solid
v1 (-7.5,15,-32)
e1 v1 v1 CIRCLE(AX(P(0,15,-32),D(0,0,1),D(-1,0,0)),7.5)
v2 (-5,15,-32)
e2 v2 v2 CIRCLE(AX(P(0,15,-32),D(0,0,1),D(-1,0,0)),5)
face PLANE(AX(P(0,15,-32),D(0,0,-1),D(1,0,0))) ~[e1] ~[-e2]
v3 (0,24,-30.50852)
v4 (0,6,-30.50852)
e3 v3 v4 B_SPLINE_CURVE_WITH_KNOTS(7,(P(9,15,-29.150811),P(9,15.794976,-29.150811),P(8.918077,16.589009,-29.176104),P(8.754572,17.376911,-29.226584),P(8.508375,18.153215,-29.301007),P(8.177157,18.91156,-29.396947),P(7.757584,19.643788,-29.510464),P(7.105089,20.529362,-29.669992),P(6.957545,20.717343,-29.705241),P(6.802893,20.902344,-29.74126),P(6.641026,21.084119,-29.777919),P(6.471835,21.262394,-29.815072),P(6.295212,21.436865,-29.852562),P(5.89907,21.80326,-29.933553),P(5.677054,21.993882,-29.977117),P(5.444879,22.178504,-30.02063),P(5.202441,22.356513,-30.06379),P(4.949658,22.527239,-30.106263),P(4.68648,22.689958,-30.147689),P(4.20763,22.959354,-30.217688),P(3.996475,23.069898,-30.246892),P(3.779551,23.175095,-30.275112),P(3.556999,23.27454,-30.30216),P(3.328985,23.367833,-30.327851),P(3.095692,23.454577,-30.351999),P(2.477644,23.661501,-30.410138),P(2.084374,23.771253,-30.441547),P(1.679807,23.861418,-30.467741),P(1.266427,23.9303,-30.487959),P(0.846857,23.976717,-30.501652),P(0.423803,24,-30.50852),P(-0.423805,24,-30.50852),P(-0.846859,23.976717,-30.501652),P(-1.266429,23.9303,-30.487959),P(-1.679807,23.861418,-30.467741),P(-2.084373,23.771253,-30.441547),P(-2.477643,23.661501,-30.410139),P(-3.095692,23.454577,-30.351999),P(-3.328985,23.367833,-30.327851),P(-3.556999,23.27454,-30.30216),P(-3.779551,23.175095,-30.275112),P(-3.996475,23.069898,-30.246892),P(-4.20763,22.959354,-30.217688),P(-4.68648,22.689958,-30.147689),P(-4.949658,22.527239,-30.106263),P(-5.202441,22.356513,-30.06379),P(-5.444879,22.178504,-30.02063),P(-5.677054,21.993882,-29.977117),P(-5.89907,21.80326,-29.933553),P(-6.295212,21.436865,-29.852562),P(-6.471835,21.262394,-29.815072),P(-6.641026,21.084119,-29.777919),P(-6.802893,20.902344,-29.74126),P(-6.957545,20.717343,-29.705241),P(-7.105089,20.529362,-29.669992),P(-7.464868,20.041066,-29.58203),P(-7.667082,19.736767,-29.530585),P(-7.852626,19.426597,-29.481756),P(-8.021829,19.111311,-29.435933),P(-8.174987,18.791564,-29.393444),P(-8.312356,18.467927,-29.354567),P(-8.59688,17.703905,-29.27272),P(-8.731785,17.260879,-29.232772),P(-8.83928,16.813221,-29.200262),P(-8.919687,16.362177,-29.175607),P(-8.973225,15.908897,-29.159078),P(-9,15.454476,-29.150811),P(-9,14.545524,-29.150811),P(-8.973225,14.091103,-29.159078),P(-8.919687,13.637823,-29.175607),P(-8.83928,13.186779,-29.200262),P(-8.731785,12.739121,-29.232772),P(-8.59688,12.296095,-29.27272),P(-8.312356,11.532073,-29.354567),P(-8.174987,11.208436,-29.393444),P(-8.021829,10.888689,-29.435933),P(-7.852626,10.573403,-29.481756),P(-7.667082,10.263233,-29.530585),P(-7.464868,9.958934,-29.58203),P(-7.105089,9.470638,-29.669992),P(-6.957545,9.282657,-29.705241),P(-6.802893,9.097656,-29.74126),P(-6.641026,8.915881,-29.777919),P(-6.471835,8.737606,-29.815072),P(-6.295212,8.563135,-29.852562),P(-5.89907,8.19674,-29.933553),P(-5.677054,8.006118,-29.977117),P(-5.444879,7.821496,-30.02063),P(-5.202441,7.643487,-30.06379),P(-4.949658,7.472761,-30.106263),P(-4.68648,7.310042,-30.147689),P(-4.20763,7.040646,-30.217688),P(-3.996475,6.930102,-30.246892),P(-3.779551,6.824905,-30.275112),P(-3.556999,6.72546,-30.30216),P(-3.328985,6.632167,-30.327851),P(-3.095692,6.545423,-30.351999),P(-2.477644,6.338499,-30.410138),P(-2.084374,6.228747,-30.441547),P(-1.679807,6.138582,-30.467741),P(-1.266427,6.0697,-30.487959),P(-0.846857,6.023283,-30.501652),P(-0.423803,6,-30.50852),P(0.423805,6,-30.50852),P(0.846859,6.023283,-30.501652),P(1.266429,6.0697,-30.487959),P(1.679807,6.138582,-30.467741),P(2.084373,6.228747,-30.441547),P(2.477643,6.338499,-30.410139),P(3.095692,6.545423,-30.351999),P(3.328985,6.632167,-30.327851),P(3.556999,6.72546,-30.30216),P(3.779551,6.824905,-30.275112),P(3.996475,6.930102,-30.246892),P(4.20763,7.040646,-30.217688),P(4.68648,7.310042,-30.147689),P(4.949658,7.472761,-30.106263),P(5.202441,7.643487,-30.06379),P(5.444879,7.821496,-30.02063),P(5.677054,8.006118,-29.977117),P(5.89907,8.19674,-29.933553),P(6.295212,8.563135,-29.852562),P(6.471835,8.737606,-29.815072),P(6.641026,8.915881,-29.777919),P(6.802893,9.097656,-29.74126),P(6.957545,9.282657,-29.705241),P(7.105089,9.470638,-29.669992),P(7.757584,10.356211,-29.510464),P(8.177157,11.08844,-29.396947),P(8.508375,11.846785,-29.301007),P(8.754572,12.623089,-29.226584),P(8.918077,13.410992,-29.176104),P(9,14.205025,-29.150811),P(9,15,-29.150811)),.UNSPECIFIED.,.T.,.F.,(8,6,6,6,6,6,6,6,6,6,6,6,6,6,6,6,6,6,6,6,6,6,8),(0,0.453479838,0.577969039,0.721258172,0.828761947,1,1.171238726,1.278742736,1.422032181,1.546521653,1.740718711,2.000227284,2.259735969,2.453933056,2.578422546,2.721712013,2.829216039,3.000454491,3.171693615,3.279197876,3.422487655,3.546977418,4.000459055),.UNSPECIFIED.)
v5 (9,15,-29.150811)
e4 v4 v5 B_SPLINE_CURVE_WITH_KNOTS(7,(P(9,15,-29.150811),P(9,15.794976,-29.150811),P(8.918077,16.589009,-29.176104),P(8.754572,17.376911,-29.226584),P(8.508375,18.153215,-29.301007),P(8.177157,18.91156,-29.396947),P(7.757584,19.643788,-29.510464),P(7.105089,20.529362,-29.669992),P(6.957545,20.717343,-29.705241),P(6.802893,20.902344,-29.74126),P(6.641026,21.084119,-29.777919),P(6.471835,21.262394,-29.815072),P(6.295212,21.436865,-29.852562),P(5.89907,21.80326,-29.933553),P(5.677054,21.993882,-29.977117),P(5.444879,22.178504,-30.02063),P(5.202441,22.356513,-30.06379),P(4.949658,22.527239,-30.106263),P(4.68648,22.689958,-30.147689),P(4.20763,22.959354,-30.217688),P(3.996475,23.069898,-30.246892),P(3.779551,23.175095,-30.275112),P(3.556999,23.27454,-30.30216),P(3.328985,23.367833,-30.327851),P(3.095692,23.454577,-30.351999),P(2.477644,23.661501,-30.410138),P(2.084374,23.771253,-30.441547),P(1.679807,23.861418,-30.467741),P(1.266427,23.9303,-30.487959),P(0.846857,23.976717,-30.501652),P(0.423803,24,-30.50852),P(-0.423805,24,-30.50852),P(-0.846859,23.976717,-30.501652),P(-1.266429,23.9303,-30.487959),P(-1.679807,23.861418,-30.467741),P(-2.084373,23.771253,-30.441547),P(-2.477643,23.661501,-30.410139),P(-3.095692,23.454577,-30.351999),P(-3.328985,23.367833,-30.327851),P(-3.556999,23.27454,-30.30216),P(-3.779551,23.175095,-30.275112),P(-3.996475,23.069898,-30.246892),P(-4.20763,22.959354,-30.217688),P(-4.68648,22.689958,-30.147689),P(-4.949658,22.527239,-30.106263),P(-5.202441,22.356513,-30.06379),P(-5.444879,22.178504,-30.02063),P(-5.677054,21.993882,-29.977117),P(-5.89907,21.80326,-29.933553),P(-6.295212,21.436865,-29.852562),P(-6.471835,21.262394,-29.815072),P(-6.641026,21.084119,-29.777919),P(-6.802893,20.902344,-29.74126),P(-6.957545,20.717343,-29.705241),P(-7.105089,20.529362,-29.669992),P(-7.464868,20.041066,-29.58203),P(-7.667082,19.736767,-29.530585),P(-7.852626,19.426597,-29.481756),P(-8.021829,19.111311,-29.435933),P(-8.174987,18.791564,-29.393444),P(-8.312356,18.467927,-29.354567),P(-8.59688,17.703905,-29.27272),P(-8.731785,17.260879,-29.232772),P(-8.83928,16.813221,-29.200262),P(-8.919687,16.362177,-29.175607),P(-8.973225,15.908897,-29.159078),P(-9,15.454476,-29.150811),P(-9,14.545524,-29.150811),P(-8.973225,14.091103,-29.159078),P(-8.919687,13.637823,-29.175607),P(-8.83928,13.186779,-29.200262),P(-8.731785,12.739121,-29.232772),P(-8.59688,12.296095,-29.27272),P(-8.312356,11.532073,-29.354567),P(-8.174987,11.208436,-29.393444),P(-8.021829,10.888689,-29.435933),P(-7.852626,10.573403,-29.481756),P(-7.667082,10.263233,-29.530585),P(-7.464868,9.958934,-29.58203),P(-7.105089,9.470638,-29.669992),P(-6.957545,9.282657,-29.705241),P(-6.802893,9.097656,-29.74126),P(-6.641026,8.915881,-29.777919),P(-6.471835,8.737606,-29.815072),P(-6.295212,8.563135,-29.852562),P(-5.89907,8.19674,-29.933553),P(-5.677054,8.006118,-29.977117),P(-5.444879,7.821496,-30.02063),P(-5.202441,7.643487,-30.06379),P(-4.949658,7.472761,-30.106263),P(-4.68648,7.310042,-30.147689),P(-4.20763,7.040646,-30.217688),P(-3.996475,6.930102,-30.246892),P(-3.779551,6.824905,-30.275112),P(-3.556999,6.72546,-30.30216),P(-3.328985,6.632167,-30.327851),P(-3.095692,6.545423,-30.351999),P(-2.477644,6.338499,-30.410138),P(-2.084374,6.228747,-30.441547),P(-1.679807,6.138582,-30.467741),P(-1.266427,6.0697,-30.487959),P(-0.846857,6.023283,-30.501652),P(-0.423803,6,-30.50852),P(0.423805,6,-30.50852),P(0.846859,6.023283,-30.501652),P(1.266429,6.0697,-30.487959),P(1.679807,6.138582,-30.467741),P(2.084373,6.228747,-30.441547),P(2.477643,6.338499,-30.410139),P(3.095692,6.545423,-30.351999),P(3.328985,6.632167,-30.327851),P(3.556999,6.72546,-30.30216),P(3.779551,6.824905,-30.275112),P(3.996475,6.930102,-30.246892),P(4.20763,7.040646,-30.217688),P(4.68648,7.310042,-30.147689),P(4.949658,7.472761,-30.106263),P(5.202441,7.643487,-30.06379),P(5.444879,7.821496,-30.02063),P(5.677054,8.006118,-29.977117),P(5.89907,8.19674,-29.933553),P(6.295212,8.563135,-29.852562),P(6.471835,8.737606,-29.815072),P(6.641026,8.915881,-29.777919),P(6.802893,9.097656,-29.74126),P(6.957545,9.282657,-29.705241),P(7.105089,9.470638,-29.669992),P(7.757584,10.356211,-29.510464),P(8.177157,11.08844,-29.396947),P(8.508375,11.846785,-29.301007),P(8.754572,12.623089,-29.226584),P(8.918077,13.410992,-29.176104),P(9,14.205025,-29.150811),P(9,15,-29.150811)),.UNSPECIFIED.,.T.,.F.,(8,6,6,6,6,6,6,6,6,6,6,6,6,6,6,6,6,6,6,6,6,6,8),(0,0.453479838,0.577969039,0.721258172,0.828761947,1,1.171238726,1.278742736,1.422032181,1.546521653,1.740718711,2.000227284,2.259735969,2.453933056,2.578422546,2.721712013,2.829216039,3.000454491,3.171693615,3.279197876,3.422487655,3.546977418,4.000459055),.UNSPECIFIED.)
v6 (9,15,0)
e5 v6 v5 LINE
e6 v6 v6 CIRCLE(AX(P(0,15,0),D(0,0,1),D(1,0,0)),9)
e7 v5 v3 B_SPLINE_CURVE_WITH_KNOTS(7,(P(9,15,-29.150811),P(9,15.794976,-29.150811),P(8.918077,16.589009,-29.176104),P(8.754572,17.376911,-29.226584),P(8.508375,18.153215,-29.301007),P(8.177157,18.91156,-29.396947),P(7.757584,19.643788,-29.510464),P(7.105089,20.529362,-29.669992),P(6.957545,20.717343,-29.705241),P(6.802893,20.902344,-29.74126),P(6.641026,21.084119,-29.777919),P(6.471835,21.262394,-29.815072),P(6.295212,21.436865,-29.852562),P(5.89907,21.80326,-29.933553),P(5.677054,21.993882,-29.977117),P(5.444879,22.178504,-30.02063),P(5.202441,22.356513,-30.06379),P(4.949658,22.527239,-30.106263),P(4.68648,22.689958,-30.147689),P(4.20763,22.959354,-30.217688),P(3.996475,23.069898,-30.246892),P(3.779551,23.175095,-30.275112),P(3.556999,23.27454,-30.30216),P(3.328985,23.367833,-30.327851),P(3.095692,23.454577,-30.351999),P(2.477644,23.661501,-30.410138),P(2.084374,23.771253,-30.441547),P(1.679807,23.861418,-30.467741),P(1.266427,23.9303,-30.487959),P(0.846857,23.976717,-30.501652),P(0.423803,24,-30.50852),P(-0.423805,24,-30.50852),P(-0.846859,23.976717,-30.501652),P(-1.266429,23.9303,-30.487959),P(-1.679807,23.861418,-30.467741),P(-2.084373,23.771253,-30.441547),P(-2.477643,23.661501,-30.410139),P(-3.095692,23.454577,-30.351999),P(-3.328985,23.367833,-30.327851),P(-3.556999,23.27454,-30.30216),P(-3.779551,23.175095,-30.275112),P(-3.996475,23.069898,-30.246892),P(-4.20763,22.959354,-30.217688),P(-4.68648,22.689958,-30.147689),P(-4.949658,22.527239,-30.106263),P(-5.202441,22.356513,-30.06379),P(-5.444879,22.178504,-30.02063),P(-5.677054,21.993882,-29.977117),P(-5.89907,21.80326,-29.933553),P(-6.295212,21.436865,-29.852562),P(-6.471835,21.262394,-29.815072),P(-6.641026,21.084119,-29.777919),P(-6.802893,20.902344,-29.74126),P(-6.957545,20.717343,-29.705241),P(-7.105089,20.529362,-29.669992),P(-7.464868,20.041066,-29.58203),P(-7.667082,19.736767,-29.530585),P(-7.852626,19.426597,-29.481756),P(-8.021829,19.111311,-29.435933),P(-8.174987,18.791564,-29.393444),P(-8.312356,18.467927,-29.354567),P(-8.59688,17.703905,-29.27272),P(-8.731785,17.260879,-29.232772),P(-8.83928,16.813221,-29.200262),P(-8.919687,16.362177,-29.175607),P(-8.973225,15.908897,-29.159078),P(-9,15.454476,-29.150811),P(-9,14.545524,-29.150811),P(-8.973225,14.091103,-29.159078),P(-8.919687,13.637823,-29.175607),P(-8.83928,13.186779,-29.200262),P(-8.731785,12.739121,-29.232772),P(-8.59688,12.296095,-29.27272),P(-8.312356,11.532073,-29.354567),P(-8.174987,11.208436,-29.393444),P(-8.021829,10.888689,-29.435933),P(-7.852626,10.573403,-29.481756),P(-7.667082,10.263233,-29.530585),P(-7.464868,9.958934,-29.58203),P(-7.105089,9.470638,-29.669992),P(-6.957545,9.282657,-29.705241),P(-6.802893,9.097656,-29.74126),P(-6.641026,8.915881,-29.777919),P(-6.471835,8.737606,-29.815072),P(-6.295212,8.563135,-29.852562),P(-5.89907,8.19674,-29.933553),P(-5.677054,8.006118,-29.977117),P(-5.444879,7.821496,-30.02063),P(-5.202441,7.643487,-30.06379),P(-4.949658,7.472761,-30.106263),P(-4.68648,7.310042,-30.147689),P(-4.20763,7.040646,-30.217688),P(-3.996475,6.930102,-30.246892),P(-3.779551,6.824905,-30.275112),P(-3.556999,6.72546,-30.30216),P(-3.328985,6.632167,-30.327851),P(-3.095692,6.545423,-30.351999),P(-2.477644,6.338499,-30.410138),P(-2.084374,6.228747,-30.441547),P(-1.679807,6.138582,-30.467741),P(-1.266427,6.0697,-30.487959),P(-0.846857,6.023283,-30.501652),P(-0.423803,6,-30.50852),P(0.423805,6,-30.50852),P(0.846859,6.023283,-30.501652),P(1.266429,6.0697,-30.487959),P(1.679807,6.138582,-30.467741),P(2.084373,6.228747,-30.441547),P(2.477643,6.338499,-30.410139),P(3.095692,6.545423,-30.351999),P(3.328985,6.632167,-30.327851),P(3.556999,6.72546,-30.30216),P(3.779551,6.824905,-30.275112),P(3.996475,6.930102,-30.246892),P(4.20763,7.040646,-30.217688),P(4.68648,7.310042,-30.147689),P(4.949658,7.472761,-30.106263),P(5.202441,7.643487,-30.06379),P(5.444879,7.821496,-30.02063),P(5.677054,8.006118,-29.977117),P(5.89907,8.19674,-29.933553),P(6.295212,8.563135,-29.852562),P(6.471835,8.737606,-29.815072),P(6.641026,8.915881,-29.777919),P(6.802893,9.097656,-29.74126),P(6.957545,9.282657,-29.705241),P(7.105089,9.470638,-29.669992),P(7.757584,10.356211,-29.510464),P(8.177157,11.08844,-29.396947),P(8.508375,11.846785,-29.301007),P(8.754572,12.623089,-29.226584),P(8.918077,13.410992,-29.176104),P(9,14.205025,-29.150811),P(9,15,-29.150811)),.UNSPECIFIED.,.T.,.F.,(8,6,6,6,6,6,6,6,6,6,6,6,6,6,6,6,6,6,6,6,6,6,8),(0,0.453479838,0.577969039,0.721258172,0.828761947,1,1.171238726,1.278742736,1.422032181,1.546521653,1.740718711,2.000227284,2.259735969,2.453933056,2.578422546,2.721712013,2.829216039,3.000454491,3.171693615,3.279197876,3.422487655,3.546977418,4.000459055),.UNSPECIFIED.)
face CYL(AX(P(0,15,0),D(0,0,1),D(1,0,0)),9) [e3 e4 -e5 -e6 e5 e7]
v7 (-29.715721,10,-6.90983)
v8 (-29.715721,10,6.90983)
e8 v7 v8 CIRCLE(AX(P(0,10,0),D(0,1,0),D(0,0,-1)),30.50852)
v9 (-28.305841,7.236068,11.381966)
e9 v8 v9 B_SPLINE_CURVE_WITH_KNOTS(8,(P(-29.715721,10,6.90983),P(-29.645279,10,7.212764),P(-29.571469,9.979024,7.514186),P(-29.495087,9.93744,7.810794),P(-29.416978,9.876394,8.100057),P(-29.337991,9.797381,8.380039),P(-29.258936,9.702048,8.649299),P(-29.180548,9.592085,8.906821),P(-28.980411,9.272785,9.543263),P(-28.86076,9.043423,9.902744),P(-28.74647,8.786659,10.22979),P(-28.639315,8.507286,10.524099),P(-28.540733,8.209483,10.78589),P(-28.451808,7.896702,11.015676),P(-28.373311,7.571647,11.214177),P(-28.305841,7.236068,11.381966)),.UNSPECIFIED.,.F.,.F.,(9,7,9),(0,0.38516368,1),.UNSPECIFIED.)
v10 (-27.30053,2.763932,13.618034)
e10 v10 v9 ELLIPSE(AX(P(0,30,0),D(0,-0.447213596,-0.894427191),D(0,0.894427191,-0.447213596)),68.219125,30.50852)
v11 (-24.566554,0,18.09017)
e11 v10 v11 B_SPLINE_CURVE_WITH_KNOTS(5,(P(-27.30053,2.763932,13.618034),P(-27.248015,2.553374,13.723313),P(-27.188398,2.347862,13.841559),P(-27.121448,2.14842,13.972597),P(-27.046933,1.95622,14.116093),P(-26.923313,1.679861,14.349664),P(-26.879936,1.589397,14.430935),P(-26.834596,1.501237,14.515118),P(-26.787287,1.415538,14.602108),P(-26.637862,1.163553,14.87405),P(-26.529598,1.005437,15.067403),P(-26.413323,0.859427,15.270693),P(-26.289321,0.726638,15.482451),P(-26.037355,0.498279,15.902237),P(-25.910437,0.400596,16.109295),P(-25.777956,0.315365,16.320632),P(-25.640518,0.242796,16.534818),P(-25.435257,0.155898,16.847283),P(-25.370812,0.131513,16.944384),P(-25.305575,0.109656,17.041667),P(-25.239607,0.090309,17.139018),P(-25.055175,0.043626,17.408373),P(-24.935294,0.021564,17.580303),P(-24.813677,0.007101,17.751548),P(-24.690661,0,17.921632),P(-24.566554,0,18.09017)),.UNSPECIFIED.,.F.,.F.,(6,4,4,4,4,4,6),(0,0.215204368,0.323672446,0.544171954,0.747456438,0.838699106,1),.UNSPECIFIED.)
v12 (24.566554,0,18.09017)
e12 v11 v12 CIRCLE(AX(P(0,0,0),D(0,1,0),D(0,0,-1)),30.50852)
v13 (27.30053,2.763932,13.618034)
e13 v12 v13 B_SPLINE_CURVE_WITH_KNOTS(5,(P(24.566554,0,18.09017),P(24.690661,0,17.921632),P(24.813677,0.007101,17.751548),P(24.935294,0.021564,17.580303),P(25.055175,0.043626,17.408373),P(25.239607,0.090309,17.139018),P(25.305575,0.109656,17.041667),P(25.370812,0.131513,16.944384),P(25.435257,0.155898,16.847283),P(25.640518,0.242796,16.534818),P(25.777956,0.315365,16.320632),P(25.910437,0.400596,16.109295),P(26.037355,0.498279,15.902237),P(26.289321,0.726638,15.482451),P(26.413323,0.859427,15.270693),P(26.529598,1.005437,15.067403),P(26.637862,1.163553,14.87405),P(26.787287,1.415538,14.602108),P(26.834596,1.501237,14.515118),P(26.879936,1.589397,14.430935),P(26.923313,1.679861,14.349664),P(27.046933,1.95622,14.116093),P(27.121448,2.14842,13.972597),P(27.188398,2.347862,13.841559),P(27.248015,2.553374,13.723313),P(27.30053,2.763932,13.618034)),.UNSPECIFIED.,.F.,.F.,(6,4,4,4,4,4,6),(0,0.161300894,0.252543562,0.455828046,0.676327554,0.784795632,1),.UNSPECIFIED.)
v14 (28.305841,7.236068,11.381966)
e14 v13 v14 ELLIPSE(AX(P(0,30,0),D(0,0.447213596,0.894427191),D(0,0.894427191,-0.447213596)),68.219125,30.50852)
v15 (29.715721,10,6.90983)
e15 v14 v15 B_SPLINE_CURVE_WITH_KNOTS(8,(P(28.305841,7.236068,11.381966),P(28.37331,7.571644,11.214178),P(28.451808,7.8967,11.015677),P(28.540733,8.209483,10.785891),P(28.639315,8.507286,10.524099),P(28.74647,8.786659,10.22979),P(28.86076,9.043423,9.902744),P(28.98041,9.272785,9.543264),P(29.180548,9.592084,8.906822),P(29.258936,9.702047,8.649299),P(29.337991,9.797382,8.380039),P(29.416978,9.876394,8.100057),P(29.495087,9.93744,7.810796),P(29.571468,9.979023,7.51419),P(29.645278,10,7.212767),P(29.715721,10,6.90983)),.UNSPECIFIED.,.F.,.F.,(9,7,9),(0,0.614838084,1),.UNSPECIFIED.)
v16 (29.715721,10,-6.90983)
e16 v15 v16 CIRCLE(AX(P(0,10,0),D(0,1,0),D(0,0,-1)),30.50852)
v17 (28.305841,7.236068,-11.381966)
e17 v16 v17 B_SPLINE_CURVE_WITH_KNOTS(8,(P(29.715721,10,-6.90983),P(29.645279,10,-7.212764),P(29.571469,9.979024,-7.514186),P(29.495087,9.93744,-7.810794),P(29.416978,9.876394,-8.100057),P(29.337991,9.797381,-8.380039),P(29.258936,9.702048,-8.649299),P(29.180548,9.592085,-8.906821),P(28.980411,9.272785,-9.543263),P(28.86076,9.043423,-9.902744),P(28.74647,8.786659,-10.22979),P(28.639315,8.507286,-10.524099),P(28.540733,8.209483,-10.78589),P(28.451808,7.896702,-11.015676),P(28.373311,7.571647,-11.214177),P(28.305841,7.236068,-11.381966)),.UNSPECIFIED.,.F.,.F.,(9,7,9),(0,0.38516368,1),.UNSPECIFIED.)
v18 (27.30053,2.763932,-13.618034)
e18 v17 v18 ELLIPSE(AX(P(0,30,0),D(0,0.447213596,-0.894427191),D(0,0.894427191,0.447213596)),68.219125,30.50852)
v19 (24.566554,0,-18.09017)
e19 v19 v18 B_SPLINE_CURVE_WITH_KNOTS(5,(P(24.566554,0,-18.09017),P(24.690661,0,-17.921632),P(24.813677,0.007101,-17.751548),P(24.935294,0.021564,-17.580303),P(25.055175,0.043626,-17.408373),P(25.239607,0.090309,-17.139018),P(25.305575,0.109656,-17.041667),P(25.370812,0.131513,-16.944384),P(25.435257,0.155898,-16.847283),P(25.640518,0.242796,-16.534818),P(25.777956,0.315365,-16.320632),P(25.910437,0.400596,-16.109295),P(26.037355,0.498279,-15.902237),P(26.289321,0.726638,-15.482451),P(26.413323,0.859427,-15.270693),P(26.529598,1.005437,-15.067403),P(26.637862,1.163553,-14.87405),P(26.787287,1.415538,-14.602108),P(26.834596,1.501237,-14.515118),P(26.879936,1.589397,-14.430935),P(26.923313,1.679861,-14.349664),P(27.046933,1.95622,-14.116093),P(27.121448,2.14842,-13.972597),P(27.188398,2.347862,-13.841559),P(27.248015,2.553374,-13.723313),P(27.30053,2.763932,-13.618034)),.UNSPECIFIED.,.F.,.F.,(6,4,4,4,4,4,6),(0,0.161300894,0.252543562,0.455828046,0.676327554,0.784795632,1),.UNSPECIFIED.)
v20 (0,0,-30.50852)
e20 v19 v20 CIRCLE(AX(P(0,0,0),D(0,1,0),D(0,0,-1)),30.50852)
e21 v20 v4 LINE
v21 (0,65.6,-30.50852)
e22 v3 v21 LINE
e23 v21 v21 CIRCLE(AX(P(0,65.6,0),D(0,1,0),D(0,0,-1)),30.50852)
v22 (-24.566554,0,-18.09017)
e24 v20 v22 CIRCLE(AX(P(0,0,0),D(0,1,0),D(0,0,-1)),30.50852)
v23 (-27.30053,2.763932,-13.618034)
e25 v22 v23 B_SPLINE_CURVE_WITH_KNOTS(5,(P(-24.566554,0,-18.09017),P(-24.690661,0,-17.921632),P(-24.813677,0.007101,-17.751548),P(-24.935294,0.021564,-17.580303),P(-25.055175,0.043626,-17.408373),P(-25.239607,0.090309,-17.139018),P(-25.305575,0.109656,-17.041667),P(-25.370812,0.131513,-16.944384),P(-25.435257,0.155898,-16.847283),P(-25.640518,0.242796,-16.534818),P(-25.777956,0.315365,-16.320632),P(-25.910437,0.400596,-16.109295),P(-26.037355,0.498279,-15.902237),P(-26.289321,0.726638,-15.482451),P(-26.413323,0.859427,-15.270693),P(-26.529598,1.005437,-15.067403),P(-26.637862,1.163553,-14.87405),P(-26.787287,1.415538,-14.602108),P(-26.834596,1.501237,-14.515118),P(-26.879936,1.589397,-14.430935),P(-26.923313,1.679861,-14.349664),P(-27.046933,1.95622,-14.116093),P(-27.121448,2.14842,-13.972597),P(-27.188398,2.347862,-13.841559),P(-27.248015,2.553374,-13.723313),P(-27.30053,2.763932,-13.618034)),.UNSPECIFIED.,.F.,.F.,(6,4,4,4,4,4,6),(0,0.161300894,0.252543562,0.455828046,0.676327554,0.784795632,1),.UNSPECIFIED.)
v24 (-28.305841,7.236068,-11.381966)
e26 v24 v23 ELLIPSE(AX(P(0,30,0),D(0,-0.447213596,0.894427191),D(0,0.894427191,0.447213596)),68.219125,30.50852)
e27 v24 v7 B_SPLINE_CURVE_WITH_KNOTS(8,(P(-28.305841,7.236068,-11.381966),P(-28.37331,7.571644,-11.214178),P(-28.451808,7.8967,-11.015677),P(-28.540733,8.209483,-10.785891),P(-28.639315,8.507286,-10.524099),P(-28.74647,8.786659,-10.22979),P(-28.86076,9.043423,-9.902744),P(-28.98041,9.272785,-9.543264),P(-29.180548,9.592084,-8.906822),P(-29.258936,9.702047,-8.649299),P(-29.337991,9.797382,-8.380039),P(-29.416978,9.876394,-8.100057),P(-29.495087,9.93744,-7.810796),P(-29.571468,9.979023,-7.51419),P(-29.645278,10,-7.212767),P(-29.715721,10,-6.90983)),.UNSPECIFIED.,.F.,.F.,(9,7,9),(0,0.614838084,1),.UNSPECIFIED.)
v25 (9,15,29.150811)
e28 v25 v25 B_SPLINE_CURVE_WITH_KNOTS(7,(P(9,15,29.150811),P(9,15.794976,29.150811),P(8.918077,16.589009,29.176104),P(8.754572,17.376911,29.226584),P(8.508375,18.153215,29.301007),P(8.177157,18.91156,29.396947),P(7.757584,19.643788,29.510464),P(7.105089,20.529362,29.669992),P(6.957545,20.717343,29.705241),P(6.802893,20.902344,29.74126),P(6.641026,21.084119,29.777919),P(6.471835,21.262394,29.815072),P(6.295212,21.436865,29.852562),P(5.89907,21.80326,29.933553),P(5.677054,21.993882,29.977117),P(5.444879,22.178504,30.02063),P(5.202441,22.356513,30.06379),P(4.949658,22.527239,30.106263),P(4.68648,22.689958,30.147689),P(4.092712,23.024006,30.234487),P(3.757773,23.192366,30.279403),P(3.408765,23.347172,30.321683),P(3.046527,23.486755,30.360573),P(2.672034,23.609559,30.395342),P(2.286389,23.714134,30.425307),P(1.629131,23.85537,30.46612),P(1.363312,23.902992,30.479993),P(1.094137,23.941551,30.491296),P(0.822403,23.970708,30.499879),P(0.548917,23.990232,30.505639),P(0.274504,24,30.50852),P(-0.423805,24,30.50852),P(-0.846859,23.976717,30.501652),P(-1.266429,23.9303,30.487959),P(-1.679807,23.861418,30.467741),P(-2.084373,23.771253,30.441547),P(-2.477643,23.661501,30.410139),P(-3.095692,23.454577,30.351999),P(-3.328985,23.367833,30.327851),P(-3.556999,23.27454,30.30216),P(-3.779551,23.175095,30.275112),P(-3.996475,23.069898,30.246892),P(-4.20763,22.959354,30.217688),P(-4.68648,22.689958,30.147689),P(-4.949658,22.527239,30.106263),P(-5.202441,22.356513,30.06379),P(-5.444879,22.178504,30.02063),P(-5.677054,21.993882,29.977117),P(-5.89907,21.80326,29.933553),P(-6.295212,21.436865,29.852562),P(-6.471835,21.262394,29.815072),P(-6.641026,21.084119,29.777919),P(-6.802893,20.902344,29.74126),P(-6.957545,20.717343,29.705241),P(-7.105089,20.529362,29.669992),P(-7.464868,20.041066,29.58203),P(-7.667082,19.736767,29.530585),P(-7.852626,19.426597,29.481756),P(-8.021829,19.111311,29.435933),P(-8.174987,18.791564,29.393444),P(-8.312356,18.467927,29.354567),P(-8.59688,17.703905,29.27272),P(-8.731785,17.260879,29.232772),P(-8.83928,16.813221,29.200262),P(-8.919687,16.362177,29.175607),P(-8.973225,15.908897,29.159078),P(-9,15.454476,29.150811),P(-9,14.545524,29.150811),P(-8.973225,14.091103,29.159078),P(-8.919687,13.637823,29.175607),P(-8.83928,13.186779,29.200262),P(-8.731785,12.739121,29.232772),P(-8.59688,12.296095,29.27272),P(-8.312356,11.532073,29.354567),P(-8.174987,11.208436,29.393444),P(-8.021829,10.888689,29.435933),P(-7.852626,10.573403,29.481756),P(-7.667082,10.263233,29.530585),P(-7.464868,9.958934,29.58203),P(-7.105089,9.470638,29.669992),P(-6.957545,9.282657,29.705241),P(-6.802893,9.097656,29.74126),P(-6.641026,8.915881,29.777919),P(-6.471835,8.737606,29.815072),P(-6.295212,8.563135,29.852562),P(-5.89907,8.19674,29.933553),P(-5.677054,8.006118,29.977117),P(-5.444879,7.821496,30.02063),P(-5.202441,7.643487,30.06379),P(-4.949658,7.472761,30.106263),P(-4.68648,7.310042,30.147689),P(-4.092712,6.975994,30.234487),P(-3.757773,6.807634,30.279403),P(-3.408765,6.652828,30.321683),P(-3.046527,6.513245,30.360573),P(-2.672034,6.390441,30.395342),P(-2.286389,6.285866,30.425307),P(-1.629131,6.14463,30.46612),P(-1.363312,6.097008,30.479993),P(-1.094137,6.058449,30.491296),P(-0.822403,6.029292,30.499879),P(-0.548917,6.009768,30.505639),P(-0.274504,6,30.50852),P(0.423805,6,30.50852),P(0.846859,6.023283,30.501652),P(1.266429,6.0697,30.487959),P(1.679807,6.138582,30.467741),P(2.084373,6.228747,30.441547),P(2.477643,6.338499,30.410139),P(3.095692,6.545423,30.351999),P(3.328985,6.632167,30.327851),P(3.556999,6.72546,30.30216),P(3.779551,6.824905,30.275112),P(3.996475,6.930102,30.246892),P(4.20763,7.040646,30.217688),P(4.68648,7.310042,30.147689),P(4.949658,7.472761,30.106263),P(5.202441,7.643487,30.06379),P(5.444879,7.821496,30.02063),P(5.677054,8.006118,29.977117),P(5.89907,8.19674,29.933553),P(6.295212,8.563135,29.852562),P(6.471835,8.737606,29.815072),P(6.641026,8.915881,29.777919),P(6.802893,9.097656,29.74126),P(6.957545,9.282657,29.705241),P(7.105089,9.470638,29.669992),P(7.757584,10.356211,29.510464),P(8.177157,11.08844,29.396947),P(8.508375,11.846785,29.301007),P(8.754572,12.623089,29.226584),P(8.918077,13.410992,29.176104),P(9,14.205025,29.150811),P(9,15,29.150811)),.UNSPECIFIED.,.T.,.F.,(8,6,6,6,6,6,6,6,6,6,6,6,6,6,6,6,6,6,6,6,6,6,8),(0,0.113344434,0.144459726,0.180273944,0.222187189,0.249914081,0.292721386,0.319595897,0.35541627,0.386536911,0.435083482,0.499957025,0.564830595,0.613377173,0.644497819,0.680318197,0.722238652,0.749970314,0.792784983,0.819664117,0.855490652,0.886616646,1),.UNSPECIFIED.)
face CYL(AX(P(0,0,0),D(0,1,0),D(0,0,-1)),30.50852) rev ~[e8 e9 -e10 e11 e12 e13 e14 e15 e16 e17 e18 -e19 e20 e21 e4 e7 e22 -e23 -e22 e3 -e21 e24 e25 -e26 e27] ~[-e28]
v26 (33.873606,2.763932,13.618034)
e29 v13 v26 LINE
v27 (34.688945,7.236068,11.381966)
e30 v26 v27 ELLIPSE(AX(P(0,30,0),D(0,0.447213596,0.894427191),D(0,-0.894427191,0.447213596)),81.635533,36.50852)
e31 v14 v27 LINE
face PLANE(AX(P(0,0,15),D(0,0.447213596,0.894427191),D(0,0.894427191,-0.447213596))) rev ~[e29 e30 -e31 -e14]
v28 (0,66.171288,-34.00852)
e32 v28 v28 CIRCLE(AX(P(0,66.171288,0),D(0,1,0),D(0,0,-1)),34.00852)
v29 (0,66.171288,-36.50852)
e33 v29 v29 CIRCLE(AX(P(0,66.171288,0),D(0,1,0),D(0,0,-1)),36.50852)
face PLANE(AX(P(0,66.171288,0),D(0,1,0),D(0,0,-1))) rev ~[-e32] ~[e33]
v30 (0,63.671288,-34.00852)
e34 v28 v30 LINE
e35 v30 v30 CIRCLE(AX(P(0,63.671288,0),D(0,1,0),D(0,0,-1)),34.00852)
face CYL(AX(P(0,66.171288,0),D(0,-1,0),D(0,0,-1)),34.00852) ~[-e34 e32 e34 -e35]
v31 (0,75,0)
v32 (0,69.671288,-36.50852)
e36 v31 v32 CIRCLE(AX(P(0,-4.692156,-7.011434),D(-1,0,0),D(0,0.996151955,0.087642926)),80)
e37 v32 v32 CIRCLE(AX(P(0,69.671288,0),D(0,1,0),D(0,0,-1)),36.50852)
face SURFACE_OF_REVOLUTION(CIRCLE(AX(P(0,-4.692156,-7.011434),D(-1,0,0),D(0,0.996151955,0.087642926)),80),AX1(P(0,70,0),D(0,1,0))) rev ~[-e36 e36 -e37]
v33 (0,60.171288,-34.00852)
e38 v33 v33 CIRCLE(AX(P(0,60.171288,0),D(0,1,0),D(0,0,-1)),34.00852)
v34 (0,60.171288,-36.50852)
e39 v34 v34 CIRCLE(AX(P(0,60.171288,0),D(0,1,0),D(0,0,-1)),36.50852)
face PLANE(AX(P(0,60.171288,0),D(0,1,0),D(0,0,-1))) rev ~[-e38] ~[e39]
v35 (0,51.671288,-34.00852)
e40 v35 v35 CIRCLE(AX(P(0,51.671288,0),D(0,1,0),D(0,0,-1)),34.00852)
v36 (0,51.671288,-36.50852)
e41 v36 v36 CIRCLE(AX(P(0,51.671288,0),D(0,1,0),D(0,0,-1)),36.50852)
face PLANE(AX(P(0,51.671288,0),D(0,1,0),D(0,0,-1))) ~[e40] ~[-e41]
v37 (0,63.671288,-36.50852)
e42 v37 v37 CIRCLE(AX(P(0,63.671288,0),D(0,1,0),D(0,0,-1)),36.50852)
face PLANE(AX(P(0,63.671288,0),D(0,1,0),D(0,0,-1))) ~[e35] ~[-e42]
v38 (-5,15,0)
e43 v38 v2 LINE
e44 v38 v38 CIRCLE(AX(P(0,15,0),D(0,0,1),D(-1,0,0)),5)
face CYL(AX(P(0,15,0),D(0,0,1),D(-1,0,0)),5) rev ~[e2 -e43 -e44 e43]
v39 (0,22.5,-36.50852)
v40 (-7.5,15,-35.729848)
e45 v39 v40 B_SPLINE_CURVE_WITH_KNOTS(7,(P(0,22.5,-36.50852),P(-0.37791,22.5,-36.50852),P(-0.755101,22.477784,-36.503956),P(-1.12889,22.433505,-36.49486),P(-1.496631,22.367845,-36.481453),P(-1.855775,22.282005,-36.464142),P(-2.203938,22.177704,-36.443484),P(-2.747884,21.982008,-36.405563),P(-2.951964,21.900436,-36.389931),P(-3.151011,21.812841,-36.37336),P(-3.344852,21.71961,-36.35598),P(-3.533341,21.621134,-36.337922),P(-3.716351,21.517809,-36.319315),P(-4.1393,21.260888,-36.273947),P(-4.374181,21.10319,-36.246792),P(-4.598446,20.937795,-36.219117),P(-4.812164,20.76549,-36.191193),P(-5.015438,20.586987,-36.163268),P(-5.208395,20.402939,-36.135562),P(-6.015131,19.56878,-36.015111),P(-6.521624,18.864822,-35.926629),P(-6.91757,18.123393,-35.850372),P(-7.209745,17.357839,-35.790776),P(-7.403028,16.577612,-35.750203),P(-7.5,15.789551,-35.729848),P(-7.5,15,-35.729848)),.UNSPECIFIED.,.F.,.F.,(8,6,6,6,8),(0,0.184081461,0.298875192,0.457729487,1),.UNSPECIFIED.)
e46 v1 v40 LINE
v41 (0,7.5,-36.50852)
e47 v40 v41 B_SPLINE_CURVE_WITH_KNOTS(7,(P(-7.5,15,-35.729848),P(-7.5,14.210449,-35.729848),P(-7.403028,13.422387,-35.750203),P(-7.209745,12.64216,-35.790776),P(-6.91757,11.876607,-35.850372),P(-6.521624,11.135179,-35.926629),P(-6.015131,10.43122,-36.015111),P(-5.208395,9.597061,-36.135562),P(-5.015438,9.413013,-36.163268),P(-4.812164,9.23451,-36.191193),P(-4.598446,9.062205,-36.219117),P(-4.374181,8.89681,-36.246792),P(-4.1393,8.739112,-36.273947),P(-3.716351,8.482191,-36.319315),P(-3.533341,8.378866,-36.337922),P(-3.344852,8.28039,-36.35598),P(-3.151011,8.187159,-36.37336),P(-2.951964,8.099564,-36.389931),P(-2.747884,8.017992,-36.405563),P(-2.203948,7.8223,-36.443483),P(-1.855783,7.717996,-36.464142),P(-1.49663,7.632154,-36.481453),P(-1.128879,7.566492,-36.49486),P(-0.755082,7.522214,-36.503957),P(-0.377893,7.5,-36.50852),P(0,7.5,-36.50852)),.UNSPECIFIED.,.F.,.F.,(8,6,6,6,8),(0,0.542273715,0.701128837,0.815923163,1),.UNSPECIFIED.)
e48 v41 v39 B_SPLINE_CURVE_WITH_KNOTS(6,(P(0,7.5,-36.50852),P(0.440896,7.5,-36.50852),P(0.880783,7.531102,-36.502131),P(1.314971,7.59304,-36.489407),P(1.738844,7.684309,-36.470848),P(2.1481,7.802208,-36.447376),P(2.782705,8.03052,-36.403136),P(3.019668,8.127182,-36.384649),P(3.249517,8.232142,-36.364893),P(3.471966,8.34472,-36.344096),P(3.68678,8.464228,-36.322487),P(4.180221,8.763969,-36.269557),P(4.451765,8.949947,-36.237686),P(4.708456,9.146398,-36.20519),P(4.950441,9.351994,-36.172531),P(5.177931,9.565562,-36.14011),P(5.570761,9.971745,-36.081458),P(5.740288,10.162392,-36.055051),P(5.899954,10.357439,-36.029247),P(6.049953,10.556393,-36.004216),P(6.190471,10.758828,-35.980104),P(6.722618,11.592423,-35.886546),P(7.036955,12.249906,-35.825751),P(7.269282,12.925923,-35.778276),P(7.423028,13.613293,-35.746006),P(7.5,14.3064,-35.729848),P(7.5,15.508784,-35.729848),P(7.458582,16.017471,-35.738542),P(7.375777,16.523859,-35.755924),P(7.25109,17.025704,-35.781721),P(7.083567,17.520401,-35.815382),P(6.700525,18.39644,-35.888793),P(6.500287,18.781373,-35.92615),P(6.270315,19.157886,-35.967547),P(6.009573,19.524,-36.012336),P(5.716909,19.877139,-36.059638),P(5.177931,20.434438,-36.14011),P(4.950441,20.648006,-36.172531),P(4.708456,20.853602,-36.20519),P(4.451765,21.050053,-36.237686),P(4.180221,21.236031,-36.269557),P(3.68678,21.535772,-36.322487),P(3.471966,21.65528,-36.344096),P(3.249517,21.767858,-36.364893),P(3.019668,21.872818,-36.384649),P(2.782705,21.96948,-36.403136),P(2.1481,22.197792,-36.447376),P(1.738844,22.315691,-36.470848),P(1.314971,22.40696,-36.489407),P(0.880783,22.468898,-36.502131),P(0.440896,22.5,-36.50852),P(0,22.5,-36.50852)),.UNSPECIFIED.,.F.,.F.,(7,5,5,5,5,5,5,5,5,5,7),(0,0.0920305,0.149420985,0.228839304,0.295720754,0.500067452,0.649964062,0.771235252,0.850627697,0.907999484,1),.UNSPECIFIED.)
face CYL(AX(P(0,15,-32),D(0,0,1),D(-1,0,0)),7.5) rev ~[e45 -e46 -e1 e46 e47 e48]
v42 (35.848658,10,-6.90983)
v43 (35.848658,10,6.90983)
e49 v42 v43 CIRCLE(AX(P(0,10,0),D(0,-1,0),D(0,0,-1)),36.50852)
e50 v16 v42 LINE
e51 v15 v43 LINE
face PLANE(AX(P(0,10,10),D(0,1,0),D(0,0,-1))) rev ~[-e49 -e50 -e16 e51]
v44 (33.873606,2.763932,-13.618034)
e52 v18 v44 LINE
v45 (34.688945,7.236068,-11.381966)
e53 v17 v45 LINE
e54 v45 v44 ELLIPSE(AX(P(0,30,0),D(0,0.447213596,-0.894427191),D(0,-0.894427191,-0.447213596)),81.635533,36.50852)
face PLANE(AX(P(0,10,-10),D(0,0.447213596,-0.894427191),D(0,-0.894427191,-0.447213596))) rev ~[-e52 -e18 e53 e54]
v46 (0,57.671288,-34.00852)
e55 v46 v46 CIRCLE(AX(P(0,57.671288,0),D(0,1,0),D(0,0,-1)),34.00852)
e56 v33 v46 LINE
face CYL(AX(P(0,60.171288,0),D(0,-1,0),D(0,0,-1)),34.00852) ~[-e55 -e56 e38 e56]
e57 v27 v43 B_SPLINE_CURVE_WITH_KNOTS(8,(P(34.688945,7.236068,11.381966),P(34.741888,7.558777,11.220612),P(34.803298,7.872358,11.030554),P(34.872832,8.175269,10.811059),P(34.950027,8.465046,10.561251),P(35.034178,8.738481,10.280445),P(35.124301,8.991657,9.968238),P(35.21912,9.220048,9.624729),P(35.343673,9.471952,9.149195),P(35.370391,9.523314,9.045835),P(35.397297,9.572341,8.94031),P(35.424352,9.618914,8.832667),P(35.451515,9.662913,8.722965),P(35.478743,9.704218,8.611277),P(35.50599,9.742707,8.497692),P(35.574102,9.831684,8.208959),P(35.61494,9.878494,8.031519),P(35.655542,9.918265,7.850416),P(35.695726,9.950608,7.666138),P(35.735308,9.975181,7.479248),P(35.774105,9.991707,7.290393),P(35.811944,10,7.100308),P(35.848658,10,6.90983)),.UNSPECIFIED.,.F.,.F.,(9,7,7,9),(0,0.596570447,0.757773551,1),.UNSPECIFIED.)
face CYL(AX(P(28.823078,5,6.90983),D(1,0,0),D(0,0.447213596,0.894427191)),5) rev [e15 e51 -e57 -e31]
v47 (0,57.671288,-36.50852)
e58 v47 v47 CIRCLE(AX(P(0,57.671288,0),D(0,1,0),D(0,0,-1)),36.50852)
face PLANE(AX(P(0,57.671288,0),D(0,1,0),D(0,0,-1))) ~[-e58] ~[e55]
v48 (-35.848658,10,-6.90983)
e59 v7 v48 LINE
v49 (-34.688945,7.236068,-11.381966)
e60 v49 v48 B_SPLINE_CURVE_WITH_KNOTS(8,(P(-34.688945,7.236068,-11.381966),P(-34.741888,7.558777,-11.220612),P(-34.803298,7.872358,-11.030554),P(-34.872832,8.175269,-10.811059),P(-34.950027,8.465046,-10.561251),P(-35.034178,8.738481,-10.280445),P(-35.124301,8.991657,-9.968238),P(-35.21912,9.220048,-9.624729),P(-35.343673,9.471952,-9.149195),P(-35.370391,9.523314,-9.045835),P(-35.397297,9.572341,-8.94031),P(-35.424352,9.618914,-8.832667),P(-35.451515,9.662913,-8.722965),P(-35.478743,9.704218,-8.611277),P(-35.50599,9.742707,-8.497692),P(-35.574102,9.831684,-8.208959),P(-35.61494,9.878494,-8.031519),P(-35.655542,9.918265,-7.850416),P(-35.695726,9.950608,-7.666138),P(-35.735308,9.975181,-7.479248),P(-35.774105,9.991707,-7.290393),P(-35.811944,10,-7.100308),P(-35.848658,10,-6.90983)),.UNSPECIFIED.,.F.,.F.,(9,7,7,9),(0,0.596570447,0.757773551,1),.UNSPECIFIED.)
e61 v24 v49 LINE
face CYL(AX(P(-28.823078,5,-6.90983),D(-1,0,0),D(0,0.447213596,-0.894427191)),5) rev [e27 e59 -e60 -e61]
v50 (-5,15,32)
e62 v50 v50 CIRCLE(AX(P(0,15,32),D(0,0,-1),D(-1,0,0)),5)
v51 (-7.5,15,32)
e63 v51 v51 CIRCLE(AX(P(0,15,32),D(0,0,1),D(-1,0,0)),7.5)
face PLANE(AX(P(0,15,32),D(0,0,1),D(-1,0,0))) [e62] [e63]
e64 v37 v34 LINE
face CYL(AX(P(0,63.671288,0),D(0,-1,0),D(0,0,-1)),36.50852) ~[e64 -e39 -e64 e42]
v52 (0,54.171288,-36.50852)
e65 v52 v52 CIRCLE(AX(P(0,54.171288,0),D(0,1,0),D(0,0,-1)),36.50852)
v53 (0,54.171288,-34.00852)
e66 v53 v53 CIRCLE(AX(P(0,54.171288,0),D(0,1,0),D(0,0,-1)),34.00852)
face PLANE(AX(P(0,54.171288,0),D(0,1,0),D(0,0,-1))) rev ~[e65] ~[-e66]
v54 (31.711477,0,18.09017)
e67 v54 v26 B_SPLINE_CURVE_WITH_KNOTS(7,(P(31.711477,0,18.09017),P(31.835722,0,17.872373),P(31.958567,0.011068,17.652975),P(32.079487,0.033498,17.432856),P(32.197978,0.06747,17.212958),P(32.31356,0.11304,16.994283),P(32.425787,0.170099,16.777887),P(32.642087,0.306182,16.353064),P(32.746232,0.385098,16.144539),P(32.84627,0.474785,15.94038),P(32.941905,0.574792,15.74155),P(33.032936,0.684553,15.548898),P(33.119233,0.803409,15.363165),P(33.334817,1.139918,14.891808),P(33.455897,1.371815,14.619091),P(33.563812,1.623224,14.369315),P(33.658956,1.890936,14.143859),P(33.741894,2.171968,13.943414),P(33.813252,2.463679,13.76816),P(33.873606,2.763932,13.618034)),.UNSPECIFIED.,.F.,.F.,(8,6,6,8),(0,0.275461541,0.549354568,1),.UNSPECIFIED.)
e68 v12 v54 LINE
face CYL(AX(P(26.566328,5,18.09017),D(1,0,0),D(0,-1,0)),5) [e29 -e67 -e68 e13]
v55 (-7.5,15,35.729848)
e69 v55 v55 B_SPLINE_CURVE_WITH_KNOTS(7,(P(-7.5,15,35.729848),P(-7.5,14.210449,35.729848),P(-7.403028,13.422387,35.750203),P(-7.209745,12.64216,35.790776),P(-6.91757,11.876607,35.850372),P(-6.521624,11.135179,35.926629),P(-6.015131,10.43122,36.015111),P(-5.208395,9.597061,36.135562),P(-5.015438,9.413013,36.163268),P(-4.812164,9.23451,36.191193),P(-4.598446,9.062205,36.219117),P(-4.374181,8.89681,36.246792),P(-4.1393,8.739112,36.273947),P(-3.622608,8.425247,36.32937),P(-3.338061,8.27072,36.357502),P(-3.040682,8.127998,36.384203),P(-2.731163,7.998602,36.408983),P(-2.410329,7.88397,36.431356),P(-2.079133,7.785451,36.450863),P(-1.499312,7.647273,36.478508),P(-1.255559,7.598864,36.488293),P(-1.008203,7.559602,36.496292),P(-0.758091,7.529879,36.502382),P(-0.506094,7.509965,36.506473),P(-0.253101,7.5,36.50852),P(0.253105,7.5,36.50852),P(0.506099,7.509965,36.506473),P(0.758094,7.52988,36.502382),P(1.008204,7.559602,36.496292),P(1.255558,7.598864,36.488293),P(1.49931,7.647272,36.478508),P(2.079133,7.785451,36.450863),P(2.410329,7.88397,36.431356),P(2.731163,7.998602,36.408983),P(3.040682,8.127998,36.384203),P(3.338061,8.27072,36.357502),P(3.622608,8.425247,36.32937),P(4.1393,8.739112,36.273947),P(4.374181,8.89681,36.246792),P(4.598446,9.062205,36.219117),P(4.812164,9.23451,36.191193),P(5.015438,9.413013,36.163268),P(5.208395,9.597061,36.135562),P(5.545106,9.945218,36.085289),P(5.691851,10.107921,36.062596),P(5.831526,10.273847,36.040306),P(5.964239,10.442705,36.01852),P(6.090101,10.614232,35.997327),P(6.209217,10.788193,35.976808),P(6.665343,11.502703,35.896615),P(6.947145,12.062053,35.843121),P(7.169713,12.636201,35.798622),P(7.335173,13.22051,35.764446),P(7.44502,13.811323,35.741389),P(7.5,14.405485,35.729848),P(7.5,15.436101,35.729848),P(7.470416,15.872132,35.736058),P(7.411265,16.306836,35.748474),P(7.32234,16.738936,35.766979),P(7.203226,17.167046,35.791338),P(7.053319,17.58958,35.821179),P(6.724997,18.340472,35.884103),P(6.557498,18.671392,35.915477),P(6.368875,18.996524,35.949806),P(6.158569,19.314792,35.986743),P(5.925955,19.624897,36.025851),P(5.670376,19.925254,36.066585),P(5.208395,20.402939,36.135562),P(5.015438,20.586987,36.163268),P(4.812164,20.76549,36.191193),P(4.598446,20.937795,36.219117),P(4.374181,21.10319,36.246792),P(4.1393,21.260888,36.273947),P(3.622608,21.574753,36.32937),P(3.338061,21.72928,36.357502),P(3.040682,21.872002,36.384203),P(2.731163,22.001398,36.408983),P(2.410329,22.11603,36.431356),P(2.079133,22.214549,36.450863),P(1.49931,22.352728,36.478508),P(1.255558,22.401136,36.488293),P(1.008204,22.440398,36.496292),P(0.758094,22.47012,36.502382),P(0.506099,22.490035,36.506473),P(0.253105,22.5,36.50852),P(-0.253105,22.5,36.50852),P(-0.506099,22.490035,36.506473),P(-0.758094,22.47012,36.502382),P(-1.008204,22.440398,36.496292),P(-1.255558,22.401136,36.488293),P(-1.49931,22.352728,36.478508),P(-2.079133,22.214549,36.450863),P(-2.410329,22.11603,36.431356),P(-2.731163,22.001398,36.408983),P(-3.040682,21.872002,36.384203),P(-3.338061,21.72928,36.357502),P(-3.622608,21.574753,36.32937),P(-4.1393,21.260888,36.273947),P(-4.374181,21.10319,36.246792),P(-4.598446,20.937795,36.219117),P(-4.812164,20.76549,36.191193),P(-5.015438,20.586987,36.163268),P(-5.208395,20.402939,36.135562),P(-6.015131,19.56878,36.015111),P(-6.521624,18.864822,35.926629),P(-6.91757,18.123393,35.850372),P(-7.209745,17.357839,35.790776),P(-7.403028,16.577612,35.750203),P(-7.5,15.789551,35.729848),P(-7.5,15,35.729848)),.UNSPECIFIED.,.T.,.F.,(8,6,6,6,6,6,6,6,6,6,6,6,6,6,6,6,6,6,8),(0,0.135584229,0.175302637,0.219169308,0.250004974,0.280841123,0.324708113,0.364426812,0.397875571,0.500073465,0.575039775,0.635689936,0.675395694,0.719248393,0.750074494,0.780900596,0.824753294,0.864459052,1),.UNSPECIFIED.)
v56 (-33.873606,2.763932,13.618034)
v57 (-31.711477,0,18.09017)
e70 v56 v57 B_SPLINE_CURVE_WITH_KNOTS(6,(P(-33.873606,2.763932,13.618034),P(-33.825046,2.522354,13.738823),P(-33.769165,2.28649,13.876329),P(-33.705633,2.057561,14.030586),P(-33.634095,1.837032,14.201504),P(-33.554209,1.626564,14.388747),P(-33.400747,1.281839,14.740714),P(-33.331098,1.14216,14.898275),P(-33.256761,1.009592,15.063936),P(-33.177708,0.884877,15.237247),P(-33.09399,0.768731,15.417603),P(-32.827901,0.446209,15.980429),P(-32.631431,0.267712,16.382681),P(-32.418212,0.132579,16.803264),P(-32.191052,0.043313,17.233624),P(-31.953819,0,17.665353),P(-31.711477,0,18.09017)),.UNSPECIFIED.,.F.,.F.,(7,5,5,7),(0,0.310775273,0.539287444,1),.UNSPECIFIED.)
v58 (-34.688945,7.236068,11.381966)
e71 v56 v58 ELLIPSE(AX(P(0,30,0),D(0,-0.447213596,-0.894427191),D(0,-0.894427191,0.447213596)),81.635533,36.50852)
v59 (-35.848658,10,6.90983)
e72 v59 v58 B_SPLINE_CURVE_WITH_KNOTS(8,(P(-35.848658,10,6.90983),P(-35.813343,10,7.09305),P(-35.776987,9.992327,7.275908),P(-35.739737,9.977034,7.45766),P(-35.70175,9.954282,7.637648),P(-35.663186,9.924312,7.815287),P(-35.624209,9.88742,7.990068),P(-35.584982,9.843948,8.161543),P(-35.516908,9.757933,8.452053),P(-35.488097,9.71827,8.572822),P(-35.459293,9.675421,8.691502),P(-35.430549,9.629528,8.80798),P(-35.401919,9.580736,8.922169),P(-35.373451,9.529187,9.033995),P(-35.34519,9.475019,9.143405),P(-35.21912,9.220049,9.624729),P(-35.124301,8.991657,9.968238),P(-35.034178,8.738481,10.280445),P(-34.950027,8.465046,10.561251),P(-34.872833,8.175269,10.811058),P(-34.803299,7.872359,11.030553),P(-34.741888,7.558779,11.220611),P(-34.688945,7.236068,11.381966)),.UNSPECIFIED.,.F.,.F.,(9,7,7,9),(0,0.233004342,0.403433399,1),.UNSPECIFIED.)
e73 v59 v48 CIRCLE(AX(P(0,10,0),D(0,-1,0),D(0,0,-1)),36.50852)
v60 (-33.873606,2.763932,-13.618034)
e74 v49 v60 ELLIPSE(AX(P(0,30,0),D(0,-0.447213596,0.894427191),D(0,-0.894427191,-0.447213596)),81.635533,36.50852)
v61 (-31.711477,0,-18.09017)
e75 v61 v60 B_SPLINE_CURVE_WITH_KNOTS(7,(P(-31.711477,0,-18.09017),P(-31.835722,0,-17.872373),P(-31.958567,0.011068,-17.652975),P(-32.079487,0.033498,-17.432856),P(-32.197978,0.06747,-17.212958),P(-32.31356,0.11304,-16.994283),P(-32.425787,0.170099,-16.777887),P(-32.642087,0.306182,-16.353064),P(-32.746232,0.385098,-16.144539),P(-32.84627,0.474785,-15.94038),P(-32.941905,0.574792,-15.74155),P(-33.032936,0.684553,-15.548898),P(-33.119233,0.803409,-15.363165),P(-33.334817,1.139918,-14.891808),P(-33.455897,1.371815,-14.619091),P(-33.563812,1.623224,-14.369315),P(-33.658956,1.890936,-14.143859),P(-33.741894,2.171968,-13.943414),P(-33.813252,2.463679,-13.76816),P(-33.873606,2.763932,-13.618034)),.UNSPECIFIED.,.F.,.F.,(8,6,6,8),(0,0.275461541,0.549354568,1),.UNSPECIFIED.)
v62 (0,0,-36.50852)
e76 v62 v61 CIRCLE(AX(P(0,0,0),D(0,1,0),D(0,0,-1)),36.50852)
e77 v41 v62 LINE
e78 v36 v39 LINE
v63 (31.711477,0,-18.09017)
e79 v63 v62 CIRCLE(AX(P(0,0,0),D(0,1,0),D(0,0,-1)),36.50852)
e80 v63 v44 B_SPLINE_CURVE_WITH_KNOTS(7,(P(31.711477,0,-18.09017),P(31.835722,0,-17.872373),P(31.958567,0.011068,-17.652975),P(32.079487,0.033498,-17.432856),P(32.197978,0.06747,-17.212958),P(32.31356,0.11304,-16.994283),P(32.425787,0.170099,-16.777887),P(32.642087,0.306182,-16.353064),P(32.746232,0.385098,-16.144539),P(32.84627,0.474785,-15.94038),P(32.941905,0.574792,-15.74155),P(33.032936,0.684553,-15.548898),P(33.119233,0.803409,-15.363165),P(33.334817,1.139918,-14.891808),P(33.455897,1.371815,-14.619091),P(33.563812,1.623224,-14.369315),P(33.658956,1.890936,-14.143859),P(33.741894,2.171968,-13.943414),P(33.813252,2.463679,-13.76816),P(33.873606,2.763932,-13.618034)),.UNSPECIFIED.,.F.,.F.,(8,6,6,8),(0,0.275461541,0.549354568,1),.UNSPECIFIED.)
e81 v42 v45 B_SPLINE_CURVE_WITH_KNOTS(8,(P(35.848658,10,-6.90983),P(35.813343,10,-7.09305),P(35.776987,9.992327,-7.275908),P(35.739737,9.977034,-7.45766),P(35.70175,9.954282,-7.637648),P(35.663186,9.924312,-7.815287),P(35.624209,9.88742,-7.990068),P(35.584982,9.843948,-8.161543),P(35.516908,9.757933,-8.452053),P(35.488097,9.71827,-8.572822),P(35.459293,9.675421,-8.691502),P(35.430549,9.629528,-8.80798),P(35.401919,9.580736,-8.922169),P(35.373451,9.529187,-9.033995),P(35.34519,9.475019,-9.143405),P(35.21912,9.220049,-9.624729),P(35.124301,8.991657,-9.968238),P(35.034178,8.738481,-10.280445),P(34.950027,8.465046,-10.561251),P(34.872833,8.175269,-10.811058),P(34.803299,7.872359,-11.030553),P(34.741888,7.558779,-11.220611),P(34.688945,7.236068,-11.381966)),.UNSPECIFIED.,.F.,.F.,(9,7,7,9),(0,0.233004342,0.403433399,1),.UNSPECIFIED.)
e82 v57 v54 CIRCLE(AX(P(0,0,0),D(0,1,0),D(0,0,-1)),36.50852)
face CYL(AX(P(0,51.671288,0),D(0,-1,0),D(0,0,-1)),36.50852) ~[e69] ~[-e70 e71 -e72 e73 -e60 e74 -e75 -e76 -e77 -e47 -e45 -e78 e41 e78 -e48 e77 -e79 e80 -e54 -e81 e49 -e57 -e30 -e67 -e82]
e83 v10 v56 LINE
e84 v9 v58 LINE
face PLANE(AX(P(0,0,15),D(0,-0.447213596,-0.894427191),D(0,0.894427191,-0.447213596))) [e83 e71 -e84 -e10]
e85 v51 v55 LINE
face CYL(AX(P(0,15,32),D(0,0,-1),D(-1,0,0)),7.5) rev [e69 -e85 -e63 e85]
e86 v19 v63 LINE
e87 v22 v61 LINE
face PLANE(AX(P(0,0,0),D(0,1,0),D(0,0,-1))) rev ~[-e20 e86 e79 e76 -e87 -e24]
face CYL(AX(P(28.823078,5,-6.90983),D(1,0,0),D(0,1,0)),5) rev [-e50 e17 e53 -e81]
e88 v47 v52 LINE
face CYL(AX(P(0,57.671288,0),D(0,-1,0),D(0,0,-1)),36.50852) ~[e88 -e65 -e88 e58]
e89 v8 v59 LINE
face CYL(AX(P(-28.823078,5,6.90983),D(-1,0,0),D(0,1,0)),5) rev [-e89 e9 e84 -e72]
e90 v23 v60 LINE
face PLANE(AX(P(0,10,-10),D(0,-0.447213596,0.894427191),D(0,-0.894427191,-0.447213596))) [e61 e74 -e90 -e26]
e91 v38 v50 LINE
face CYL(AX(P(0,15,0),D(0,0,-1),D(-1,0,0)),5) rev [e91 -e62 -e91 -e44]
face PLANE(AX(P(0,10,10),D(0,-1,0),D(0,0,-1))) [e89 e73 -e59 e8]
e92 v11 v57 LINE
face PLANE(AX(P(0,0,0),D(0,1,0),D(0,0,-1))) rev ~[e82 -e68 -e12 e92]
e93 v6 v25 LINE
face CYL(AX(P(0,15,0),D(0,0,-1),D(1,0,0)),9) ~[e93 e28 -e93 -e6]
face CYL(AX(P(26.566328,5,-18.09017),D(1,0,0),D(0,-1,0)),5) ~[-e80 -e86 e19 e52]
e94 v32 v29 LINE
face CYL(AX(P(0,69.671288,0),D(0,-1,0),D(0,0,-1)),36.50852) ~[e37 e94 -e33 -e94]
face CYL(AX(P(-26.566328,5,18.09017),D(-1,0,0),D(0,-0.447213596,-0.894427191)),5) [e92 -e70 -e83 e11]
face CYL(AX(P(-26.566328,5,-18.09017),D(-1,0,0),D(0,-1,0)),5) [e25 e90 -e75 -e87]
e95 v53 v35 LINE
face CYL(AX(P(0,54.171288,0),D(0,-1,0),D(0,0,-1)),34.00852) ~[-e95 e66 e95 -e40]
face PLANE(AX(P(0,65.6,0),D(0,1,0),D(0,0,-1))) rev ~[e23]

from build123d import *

# Parameters (mm, degrees)
CUT_EXTRUDE1_REACH                   = 93.307
CUT_EXTRUDE1_DIRECTION_2_REACH       = 93.307
FILLET1_R                            = 5
BOSS_EXTRUDE1_REACH                  = 93.307
BOSS_EXTRUDE1_END_RADIUS             = 30.50852022
SKETCH3_R                            = 9
BOSS_EXTRUDE1_DIRECTION_2_REACH      = 93.307
BOSS_EXTRUDE1_DIRECTION_2_END_RADIUS = 30.50852022
CUT_EXTRUDE2_REACH                   = 93.307
CUT_EXTRUDE2_END_RADIUS              = 36.50852022
SKETCH4_R                            = 5
CUT_EXTRUDE2_DIRECTION_2_REACH       = 93.307
CUT_EXTRUDE2_DIRECTION_2_END_RADIUS  = 36.50852022
SKETCH5_R                            = 7.5
CUT_EXTRUDE3_DEPTH                   = 10


with BuildPart() as part:
    # Sketch1 → Revolve1 (revolve)
    with BuildSketch(Plane.XY, mode=Mode.PRIVATE) as revolve1_sk:
        with BuildLine():
            Line((0, 65.6), (0, 70))
            Line((0, 70), (0, 75))
            ThreePointArc((0, 75), (-18.565651024, 74.469071932), (-36.50852022, 69.671288317))
            Line((-36.50852022, 69.671288317), (-36.50852022, 66.171288317))
            Line((-36.50852022, 66.171288317), (-34.00852022, 66.171288317))
            Line((-34.00852022, 66.171288317), (-34.00852022, 63.671288317))
            Line((-34.00852022, 63.671288317), (-36.50852022, 63.671288317))
            Line((-36.50852022, 63.671288317), (-36.50852022, 60.171288317))
            Line((-36.50852022, 60.171288317), (-34.00852022, 60.171288317))
            Line((-34.00852022, 60.171288317), (-34.00852022, 57.671288317))
            Line((-34.00852022, 57.671288317), (-36.50852022, 57.671288317))
            Line((-36.50852022, 57.671288317), (-36.50852022, 54.171288317))
            Line((-36.50852022, 54.171288317), (-34.00852022, 54.171288317))
            Line((-34.00852022, 54.171288317), (-34.00852022, 51.671288317))
            Line((-34.00852022, 51.671288317), (-36.50852022, 51.671288317))
            Line((-36.50852022, 51.671288317), (-36.50852022, 0))
            Line((-36.50852022, 0), (-30.50852022, 0))
            Line((-30.50852022, 0), (-30.50852022, 65.6))
            Line((-30.50852022, 65.6), (0, 65.6))
        make_face()
    revolve(revolve1_sk.sketch.rotate(Axis((0, 70, 0), (0, 1, 0)), 270), axis=Axis((0, 70, 0), (0, 1, 0)))

    # Sketch2 → Cut-Extrude1 (cut, up to next)
    with BuildSketch(Plane(origin=(0, 0, 0), x_dir=(0, 0, -1), z_dir=(1, 0, 0)), mode=Mode.PRIVATE) as cut_extrude1_sk1:
        Polygon((-15, 0), (-10, 10), (10, 10), (15, 0), align=None)
    cut_extrude1_tool1 = extrude(cut_extrude1_sk1.sketch, amount=-CUT_EXTRUDE1_REACH, mode=Mode.PRIVATE) & part.part
    add(cut_extrude1_tool1.solids().sort_by_distance((0, 4.666667, 0))[0], mode=Mode.SUBTRACT)

    # Sketch2 → Cut-Extrude1 direction 2 (cut, up to next)
    with BuildSketch(Plane(origin=(0, 0, 0), x_dir=(0, 0, -1), z_dir=(1, 0, 0)), mode=Mode.PRIVATE) as cut_extrude1_direction_2_sk1:
        Polygon((-15, 0), (-10, 10), (10, 10), (15, 0), align=None)
    cut_extrude1_direction_2_tool1 = extrude(cut_extrude1_direction_2_sk1.sketch, amount=CUT_EXTRUDE1_DIRECTION_2_REACH, mode=Mode.PRIVATE) & part.part
    add(cut_extrude1_direction_2_tool1.solids().sort_by_distance((0, 4.666667, 0))[0], mode=Mode.SUBTRACT)

    # Fillet1
    fillet1_edges = [part.edges().sort_by_distance(p)[0] for p in [
        (31.967677706, 10, -10),
        (-31.967677706, 10, -10),
        (29.92552018, 0, -15),
        (-29.92552018, 0, -15),
        (31.967677706, 10, 10),
        (-31.967677706, 10, 10),
        (-29.92552018, 0, 15),
        (29.92552018, 0, 15),
    ]]
    fillet(fillet1_edges, radius=FILLET1_R)

    # Boss-Extrude1: up to this cylinder (the profile starts inside it)
    boss_extrude1_end = Plane(origin=(0, 15, 0), z_dir=(0, -1, 0)) * Cylinder(BOSS_EXTRUDE1_END_RADIUS, 248.631040439, mode=Mode.PRIVATE)
    # Sketch3 → Boss-Extrude1 (add, up to the surface)
    with BuildSketch(Plane.XY, mode=Mode.PRIVATE) as boss_extrude1_sk1:
        with Locations((0, 15)):
            Circle(SKETCH3_R)
    boss_extrude1_tool1 = extrude(boss_extrude1_sk1.sketch, amount=BOSS_EXTRUDE1_REACH, mode=Mode.PRIVATE) & boss_extrude1_end
    add(boss_extrude1_tool1.solids().sort_by_distance((0, 15, 0))[0])

    # Boss-Extrude1 direction 2: up to this cylinder (the profile starts inside it)
    boss_extrude1_direction_2_end = Plane(origin=(0, 15, 0), z_dir=(0, -1, 0)) * Cylinder(BOSS_EXTRUDE1_DIRECTION_2_END_RADIUS, 248.631040439, mode=Mode.PRIVATE)
    # Sketch3 → Boss-Extrude1 direction 2 (add, up to the surface)
    with BuildSketch(Plane.XY, mode=Mode.PRIVATE) as boss_extrude1_direction_2_sk1:
        with Locations((0, 15)):
            Circle(SKETCH3_R)
    boss_extrude1_direction_2_tool1 = extrude(boss_extrude1_direction_2_sk1.sketch, amount=-BOSS_EXTRUDE1_DIRECTION_2_REACH, mode=Mode.PRIVATE) & boss_extrude1_direction_2_end
    add(boss_extrude1_direction_2_tool1.solids().sort_by_distance((0, 15, 0))[0])

    # Cut-Extrude2: up to this cylinder (the profile starts inside it)
    cut_extrude2_end = Plane(origin=(0, 15, 0), z_dir=(0, -1, 0)) * Cylinder(CUT_EXTRUDE2_END_RADIUS, 260.631040439, mode=Mode.PRIVATE)
    # Sketch4 → Cut-Extrude2 (cut, up to the surface)
    with BuildSketch(Plane.XY, mode=Mode.PRIVATE) as cut_extrude2_sk1:
        with Locations(Location((0, 15, 0), (0, 0, 180))):
            Circle(SKETCH4_R)
    cut_extrude2_tool1 = extrude(cut_extrude2_sk1.sketch, amount=-CUT_EXTRUDE2_REACH, mode=Mode.PRIVATE) & cut_extrude2_end
    add(cut_extrude2_tool1.solids().sort_by_distance((0, 15, 0))[0], mode=Mode.SUBTRACT)

    # Cut-Extrude2 direction 2: up to this cylinder (the profile starts inside it)
    cut_extrude2_direction_2_end = Plane(origin=(0, 15, 0), z_dir=(0, -1, 0)) * Cylinder(CUT_EXTRUDE2_DIRECTION_2_END_RADIUS, 260.631040439, mode=Mode.PRIVATE)
    # Sketch4 → Cut-Extrude2 direction 2 (cut, up to the surface)
    with BuildSketch(Plane.XY, mode=Mode.PRIVATE) as cut_extrude2_direction_2_sk1:
        with Locations(Location((0, 15, 0), (0, 0, 180))):
            Circle(SKETCH4_R)
    cut_extrude2_direction_2_tool1 = extrude(cut_extrude2_direction_2_sk1.sketch, amount=CUT_EXTRUDE2_DIRECTION_2_REACH, mode=Mode.PRIVATE) & cut_extrude2_direction_2_end
    add(cut_extrude2_direction_2_tool1.solids().sort_by_distance((0, 15, 0))[0], mode=Mode.SUBTRACT)

    # Sketch5 → Cut-Extrude3 (cut)
    with BuildSketch(Plane.XY.offset(32)):
        with Locations(Location((0, 15, 0), (0, 0, 180))):
            Circle(SKETCH5_R)
    cut_extrude3 = extrude(amount=CUT_EXTRUDE3_DEPTH, mode=Mode.SUBTRACT)

    # Mirror1: Cut-Extrude3 across plane
    add(cut_extrude3.mirror(Plane.XY), mode=Mode.SUBTRACT)


solid = part.part
